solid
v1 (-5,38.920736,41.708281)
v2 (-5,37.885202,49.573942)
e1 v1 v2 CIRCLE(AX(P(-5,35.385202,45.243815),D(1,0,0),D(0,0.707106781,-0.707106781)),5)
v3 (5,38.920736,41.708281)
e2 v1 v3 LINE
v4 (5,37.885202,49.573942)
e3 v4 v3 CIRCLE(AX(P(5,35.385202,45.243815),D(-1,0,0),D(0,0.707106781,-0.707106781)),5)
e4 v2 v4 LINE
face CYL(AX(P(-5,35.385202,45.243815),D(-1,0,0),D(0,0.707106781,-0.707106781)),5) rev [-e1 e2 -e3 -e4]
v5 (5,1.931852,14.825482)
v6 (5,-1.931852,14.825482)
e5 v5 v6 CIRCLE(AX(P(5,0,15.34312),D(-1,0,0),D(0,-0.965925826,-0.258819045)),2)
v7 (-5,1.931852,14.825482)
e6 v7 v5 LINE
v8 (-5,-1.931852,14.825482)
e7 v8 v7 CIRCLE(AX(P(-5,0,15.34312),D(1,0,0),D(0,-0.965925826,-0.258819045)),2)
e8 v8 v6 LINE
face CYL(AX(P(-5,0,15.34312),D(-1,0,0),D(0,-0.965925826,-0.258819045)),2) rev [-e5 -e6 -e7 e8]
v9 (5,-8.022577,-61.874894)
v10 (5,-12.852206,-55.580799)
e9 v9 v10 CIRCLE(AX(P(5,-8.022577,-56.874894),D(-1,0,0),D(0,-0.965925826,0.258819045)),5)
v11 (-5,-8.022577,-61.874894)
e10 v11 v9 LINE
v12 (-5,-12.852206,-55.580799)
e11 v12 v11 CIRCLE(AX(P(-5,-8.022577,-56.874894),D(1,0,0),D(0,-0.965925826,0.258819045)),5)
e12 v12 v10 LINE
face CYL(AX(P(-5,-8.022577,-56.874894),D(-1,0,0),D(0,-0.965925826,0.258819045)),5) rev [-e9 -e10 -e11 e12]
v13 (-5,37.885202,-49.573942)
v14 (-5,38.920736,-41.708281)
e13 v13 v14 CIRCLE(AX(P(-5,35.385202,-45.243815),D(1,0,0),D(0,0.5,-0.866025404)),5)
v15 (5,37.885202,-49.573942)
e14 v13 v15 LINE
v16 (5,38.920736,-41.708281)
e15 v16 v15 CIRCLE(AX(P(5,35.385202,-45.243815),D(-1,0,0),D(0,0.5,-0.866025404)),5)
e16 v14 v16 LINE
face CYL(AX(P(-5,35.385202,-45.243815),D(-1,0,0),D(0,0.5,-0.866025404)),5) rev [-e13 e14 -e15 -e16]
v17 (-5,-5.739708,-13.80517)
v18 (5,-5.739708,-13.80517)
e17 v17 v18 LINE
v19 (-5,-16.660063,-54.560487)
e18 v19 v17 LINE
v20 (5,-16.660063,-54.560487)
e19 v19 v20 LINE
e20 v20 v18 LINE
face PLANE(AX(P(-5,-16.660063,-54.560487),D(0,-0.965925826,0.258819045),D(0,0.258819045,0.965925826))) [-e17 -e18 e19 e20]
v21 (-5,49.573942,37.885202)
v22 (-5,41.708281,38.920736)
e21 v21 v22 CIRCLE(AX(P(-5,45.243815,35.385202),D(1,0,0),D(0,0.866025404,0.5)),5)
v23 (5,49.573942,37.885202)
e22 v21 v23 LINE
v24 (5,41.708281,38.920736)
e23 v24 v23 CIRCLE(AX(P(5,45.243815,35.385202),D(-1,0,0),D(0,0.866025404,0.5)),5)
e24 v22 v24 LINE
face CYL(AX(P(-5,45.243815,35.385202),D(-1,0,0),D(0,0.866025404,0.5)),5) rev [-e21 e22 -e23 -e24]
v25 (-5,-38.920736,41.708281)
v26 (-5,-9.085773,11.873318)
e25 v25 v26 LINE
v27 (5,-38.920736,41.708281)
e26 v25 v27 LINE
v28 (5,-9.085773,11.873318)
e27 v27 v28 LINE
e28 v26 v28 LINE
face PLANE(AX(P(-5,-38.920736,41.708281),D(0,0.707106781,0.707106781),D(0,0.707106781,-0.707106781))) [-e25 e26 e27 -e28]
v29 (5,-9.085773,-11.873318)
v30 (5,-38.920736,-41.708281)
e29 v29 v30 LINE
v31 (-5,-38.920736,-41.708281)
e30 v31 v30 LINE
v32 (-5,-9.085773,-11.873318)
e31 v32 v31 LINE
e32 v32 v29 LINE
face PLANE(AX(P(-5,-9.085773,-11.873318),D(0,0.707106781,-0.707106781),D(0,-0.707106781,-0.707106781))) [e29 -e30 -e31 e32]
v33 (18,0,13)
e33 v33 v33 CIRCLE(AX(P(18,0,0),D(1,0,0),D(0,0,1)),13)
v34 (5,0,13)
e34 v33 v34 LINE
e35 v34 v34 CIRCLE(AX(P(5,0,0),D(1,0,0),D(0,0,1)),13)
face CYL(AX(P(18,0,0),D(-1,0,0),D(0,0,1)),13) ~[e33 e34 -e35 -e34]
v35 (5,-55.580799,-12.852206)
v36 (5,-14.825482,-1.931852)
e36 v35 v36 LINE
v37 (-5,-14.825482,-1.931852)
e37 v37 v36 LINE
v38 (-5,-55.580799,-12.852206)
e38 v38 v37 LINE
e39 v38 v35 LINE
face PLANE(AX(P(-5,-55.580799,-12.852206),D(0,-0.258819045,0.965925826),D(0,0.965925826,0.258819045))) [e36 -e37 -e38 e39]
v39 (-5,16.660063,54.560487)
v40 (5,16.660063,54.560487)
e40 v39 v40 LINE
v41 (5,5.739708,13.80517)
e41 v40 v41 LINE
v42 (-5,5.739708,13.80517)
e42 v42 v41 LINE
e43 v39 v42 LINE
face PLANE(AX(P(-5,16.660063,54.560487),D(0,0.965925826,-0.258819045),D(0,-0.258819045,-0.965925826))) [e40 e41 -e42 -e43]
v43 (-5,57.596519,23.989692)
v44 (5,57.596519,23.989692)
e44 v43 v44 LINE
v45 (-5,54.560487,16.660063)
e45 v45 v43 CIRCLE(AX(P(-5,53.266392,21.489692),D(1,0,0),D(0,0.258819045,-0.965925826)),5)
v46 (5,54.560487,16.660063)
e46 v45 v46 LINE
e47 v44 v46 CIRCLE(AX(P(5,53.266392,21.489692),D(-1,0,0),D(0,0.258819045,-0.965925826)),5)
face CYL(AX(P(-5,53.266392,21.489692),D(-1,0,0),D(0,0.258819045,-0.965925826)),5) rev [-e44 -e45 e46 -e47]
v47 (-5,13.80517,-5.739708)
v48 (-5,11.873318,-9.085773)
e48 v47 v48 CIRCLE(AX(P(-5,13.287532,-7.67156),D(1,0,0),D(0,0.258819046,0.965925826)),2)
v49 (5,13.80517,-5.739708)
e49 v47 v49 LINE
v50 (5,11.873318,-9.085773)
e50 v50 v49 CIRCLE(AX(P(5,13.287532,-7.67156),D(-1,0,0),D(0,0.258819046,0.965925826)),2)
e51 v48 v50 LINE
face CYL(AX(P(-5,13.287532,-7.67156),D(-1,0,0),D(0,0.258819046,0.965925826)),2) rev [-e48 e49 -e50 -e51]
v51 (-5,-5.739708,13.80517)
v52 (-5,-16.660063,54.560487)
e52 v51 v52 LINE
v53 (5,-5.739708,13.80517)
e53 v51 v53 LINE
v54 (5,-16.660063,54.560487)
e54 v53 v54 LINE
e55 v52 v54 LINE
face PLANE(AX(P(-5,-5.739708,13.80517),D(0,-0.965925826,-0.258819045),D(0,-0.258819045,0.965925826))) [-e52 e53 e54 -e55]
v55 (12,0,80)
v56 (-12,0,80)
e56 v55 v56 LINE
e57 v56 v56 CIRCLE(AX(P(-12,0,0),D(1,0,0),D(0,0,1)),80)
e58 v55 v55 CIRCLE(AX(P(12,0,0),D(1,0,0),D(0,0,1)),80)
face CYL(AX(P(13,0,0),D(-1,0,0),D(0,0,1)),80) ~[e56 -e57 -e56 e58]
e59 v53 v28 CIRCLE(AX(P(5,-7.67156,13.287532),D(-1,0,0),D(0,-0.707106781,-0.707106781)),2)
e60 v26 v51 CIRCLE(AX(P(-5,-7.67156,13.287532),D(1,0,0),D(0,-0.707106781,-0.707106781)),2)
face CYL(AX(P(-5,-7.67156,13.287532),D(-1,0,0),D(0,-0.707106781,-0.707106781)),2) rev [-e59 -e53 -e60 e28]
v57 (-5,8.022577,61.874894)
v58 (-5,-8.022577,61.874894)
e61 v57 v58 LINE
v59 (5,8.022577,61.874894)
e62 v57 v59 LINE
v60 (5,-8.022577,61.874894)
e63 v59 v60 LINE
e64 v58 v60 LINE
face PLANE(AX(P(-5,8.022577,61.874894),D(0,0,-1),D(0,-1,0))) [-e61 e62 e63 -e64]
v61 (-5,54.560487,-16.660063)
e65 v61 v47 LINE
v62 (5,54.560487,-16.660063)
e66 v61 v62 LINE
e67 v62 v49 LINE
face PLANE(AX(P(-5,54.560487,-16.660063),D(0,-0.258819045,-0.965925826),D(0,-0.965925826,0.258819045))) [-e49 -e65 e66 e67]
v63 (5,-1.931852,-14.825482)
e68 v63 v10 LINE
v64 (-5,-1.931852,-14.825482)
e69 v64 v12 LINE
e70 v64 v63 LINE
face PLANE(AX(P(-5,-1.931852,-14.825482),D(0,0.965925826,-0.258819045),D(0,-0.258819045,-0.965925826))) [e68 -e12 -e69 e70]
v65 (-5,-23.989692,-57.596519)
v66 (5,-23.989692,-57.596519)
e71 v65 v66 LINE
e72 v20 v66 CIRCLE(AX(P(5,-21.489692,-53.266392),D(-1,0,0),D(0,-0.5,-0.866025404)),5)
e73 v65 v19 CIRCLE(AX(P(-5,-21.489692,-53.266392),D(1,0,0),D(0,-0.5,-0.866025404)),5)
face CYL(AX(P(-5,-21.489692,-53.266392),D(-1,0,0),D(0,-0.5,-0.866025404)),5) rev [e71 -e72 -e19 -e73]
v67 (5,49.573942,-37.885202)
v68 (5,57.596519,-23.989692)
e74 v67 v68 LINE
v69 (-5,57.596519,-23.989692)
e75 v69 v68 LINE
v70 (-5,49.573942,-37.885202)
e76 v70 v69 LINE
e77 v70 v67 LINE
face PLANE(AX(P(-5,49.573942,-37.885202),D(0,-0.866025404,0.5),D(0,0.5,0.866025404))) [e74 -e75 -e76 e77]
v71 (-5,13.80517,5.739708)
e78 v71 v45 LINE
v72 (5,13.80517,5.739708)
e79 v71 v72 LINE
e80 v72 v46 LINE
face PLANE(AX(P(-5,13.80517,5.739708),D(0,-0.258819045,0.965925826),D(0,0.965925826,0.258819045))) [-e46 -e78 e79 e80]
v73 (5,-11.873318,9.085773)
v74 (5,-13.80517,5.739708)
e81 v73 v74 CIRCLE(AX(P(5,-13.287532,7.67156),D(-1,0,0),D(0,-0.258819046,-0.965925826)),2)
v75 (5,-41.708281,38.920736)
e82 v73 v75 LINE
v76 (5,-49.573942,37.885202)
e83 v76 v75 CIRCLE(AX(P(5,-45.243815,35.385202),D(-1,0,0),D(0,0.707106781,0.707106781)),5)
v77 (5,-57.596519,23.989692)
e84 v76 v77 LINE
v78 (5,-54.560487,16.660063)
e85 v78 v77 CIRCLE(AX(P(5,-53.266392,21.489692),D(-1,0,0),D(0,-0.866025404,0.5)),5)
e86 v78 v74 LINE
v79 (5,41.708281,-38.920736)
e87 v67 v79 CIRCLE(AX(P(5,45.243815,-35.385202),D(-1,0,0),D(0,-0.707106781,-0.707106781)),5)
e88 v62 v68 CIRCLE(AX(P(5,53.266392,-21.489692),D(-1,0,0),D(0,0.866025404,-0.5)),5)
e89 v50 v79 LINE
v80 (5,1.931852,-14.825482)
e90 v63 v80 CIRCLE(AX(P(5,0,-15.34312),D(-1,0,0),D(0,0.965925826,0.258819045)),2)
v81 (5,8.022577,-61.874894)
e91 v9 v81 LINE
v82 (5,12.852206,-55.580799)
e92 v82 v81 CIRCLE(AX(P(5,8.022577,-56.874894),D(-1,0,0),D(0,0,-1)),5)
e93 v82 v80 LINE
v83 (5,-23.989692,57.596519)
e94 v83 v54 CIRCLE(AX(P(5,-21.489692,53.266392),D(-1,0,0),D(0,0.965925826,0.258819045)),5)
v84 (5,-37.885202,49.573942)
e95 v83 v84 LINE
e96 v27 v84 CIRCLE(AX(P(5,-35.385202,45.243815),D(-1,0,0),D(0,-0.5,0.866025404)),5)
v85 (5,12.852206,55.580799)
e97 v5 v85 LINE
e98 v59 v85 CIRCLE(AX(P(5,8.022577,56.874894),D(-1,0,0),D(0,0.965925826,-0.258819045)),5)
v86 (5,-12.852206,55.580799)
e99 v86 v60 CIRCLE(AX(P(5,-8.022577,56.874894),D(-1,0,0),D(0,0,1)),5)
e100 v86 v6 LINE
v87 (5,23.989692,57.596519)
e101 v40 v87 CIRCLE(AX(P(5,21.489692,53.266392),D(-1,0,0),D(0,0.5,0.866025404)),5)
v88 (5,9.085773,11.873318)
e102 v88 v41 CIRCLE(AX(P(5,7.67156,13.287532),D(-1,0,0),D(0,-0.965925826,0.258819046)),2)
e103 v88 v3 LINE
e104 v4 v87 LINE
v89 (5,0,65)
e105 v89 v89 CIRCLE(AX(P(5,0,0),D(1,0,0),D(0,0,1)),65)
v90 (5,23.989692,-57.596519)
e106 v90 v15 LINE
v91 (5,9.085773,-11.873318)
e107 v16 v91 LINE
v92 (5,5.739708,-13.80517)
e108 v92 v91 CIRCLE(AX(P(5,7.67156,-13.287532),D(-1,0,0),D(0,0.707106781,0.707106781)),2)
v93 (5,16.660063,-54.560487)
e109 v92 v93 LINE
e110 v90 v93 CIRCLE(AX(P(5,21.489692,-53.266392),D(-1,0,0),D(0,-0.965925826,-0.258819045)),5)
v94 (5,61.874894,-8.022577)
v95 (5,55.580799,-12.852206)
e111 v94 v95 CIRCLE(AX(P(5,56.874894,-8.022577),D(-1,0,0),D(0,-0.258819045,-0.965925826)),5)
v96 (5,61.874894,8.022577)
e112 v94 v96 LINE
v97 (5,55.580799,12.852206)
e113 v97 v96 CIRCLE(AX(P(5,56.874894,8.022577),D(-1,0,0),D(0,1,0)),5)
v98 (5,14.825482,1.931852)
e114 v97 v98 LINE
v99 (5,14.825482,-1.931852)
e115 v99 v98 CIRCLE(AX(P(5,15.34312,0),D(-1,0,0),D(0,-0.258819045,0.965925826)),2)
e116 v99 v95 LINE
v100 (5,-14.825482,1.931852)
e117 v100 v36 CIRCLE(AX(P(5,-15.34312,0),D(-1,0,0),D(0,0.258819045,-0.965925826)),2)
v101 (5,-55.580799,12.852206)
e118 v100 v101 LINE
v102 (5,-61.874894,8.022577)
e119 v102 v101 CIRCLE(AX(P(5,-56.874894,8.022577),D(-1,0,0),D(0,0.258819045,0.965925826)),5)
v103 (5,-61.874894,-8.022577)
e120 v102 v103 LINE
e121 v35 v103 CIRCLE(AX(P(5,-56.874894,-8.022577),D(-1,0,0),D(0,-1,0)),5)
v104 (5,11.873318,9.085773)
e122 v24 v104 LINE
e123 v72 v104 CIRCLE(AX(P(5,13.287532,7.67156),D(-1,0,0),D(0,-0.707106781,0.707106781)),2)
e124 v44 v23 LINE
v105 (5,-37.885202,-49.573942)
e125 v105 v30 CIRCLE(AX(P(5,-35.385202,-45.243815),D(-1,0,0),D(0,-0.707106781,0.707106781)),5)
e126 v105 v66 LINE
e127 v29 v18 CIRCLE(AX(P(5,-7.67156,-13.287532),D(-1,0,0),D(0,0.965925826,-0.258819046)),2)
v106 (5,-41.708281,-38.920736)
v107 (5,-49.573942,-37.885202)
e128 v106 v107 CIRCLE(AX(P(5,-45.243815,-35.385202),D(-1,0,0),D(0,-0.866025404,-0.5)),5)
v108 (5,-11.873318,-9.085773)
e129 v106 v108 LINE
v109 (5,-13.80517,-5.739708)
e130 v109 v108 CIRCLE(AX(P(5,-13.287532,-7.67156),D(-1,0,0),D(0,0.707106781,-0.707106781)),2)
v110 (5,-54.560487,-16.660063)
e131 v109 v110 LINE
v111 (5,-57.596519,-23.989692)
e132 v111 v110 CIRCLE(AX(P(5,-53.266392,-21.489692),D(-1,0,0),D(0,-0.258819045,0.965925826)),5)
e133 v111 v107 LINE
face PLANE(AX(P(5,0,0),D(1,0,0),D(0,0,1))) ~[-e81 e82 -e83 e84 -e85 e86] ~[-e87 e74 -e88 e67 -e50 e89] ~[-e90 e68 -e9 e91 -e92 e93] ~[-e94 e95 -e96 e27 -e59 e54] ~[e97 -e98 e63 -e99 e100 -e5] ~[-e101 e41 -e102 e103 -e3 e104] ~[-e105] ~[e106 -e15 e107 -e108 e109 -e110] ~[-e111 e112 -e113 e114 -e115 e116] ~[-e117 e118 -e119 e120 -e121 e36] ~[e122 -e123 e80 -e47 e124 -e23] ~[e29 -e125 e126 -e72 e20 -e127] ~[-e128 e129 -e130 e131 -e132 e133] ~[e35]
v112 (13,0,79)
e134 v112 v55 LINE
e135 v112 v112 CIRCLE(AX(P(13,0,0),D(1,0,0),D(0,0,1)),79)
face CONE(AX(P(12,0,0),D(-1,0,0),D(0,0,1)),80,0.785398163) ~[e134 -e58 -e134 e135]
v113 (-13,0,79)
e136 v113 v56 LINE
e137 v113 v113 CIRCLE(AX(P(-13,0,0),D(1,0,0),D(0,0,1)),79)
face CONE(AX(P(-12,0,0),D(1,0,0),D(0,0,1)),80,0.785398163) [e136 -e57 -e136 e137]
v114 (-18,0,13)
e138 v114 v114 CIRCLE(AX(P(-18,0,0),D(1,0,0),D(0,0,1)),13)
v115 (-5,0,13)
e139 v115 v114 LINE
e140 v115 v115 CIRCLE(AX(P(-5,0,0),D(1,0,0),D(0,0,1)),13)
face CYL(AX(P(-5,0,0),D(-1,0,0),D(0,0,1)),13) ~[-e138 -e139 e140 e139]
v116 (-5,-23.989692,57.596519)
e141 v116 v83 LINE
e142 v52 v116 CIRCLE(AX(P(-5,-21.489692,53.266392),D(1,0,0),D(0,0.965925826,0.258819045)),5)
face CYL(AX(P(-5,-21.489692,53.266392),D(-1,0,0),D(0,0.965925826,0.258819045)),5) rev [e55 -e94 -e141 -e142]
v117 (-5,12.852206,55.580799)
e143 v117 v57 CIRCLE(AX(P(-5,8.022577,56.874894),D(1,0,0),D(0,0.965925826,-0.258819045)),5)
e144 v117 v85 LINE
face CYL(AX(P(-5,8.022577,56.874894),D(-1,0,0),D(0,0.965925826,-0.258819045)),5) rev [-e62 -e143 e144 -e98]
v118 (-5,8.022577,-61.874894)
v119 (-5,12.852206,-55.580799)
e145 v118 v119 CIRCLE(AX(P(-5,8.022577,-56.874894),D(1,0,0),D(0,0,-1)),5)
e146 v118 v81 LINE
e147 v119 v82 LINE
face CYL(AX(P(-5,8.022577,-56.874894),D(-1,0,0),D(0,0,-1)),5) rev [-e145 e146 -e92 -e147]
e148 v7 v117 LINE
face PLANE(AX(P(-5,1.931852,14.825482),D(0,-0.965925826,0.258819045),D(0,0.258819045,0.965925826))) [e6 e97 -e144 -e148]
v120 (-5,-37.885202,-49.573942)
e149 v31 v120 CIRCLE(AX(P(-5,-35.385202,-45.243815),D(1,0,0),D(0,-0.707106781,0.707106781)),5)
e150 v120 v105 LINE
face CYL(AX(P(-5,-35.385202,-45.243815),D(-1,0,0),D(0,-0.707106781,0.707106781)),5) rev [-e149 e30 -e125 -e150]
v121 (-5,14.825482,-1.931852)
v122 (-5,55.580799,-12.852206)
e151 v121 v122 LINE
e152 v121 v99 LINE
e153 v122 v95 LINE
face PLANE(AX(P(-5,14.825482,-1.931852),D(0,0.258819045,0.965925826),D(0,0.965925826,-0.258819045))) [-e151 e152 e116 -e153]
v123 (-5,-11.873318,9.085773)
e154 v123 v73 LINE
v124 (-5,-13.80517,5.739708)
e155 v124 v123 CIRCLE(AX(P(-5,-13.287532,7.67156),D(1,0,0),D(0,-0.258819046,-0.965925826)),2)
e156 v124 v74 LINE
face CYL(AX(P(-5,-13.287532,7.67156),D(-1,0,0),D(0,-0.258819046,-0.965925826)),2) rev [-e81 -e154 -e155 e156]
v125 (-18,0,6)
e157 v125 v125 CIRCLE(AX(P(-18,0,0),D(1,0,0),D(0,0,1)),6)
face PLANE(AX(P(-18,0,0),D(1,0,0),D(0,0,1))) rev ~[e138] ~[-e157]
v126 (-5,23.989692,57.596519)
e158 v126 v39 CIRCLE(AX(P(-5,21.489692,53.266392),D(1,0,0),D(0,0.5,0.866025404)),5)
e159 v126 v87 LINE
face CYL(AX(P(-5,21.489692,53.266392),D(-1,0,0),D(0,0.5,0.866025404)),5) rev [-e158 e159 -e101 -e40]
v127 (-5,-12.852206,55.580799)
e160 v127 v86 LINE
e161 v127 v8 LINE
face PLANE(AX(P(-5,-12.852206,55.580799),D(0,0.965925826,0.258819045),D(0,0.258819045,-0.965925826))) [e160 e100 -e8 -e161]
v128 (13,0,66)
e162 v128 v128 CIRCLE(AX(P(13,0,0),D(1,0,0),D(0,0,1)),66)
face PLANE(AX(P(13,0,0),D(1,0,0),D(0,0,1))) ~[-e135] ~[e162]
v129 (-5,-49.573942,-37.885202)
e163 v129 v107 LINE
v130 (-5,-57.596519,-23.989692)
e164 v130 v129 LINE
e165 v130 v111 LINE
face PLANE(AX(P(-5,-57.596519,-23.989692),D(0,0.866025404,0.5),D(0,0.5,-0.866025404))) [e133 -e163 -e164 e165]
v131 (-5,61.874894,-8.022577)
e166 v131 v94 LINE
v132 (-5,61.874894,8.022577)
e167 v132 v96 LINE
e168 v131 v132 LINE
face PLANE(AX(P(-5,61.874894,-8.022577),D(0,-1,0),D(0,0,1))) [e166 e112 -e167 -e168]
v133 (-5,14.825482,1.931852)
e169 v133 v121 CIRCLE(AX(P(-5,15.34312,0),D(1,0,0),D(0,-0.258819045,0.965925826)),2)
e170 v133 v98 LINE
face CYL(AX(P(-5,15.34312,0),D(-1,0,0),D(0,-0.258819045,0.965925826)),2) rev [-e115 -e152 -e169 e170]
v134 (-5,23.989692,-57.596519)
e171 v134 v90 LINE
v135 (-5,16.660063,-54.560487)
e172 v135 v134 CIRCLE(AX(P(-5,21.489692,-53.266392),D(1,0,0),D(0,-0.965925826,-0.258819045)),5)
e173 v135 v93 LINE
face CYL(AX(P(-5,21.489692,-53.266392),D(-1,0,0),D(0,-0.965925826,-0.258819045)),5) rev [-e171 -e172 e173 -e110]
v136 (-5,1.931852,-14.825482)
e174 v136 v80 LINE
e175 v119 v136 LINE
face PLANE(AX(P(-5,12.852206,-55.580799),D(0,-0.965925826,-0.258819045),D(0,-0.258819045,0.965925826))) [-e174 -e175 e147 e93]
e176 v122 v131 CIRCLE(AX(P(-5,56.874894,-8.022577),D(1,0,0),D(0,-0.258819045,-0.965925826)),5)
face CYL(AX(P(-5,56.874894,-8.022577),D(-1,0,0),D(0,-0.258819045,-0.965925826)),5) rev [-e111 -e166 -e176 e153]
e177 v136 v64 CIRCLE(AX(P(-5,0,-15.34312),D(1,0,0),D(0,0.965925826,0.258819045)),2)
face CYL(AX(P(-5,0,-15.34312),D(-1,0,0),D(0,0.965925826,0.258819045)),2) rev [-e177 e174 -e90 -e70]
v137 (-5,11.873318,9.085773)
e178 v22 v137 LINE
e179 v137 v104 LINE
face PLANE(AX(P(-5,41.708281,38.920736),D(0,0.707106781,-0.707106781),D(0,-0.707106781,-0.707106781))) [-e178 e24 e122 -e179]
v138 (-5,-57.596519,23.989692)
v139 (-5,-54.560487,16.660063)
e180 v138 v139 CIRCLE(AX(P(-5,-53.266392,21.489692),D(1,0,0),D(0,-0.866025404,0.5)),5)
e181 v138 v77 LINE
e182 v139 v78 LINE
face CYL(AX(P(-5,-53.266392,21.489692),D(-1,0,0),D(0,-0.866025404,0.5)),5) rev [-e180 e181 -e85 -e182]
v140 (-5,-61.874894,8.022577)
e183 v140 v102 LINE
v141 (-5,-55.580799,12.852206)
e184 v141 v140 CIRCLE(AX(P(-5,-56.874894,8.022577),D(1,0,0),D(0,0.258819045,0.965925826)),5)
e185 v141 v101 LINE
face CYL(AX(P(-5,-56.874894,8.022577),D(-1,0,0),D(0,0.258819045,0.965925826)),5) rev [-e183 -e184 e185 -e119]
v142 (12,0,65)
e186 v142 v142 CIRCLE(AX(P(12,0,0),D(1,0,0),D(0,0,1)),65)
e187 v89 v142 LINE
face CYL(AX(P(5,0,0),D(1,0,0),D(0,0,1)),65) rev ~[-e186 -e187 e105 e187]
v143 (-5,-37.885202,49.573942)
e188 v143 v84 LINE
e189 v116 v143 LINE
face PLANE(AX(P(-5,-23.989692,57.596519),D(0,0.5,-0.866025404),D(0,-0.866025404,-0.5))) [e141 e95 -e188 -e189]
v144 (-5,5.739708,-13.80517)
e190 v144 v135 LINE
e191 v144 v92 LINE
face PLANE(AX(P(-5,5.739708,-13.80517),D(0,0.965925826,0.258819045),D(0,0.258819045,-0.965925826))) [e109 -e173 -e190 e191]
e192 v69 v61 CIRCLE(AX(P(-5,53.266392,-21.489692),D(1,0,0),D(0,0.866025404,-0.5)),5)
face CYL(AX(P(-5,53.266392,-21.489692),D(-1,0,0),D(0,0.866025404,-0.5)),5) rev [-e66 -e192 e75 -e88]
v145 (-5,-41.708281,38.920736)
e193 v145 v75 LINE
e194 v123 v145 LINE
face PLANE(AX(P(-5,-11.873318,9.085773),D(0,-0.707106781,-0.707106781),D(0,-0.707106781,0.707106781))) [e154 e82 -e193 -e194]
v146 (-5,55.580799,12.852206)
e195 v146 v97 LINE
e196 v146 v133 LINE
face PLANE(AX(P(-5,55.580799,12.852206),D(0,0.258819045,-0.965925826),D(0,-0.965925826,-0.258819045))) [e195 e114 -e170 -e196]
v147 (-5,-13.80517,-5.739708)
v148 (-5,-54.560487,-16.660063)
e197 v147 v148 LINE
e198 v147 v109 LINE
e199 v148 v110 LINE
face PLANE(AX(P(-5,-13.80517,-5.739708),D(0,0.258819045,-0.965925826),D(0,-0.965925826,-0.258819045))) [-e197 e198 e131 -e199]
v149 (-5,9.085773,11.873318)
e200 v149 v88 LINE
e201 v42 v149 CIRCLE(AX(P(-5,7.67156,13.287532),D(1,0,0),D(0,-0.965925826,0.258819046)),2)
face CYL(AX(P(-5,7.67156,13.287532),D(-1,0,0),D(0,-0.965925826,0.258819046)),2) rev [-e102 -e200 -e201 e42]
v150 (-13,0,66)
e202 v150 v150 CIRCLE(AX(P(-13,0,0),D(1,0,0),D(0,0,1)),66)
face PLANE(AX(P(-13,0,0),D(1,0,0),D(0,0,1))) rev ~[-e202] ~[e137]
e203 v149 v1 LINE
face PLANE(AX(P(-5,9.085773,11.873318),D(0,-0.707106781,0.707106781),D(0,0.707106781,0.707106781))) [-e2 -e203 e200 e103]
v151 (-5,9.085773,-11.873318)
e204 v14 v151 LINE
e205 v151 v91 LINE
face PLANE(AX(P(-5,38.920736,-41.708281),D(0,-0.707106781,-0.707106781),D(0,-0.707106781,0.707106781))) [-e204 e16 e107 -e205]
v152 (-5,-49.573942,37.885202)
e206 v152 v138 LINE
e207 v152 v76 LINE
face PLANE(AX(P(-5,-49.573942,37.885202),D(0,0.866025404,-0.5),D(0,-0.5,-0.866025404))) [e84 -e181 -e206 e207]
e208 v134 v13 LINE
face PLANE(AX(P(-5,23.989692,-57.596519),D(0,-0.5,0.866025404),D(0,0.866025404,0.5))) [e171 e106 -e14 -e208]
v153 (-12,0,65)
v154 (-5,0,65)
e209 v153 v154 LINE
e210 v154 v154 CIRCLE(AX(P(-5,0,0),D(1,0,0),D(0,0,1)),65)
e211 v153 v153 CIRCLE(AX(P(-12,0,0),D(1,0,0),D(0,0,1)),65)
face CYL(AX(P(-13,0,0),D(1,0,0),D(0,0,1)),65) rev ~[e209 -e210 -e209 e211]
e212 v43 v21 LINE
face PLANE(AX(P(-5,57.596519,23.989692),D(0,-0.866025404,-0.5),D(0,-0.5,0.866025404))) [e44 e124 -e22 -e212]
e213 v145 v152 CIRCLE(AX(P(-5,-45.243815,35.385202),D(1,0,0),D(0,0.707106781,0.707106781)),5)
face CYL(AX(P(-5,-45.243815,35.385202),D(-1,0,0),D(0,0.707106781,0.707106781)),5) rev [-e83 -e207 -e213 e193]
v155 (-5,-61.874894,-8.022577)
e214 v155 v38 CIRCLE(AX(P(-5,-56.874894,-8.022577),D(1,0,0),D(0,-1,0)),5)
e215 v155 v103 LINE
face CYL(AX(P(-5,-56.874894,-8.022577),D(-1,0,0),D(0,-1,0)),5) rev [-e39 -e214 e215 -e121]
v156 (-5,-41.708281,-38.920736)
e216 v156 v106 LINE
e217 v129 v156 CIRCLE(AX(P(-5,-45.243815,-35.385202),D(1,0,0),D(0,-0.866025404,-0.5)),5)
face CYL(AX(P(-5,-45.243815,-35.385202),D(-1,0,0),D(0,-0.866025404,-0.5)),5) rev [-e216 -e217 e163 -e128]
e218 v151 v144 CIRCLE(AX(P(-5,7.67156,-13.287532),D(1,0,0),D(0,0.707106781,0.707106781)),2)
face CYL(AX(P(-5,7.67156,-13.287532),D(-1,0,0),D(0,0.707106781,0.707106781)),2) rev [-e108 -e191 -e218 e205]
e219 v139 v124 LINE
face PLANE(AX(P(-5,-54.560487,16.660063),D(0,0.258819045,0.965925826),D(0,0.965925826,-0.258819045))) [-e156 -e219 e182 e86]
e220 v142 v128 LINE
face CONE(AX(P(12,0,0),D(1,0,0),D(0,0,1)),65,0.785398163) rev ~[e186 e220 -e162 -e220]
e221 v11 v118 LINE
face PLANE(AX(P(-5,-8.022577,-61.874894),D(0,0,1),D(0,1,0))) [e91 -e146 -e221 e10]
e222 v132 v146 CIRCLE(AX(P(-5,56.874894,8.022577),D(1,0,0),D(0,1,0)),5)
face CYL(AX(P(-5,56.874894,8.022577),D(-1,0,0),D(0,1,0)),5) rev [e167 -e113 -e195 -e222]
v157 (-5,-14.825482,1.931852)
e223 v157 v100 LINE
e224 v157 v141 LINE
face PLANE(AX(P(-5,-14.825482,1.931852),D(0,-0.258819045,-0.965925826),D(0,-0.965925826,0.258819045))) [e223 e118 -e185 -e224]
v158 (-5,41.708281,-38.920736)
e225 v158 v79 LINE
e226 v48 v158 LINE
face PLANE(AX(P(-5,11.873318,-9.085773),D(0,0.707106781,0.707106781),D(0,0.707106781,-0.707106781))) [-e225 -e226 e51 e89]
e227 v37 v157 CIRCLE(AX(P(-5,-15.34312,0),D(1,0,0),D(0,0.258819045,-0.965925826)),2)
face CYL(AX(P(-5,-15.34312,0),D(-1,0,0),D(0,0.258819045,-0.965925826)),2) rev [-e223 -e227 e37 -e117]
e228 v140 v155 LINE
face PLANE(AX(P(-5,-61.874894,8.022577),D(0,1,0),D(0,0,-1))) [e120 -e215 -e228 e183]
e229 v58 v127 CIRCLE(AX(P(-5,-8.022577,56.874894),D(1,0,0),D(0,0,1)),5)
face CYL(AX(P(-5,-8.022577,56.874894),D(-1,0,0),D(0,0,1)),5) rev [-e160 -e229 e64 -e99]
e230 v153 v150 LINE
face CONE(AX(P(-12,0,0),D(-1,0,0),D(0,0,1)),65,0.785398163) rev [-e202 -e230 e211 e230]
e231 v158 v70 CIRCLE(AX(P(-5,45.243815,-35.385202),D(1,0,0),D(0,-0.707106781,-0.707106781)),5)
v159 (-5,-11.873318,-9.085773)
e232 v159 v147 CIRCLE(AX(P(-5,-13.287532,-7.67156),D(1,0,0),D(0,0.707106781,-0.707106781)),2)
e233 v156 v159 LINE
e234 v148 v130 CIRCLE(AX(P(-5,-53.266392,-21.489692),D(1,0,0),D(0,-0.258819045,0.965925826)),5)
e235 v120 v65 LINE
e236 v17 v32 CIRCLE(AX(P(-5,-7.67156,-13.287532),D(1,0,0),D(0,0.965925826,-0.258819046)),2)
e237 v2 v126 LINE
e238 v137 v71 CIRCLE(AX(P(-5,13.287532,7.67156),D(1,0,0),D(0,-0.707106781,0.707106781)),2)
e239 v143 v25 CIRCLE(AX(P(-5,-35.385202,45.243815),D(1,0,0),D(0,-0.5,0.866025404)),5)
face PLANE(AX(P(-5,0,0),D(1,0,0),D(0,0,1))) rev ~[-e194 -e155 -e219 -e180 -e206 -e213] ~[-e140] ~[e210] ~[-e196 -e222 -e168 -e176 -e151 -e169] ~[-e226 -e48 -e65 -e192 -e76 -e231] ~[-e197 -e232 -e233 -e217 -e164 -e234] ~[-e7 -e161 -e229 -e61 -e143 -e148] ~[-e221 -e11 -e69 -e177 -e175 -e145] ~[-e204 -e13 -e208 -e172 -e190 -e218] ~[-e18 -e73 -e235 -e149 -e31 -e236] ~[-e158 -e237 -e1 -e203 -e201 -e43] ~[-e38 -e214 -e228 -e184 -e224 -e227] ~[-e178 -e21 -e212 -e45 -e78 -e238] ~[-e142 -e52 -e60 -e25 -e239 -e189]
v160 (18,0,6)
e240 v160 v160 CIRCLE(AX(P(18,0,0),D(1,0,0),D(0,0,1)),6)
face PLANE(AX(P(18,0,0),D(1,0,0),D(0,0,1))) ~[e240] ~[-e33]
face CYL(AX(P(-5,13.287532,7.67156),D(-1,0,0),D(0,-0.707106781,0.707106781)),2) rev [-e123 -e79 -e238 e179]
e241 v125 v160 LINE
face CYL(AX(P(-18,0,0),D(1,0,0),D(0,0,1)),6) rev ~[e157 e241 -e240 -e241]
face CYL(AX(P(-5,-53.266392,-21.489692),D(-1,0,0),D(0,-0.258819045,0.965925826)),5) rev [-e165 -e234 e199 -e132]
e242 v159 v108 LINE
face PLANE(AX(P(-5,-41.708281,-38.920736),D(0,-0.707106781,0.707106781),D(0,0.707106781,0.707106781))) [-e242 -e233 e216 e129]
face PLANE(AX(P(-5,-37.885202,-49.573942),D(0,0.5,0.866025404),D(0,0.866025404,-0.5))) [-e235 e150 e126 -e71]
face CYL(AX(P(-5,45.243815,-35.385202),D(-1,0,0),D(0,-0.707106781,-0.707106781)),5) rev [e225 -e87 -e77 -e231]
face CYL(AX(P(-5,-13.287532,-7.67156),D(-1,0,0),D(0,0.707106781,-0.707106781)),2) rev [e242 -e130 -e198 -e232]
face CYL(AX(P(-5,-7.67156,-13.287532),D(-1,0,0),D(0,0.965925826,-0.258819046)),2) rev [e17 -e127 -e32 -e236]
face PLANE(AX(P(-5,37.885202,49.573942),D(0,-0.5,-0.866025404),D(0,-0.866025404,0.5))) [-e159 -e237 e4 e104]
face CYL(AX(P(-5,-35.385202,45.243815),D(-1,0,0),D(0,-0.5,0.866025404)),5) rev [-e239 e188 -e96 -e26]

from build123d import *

# Parameters (mm, degrees)
CUT_EXTRUDE1_DEPTH = 20
CHAMFER1_SIZE      = 1


with BuildPart() as part:
    # Sketch1 → Revolve1 (revolve)
    with BuildSketch(Plane.XY, mode=Mode.PRIVATE) as revolve1_sk:
        Polygon((-18, 6), (18, 6), (18, 13), (5, 13), (5, 65), (13, 65), (13, 80), (-13, 80), (-13, 65), (-5, 65), (-5, 13), (-18, 13), align=None)
    revolve(revolve1_sk.sketch.rotate(Axis((0, 0, 0), (1, 0, 0)), 90), axis=Axis((0, 0, 0), (1, 0, 0)))

    # Sketch2 → Cut-Extrude1 (cut)
    with BuildSketch(Plane.ZY.offset(5)):
        with BuildLine():
            Line((-8.022576871, 61.874894191), (8.022576871, 61.874894191))
            ThreePointArc((8.022576871, 61.874894191), (11.989343573, 59.918701336), (12.852206003, 55.580798966))
            Line((12.852206003, 55.580798966), (1.931851653, 14.825481694))
            ThreePointArc((1.931851653, 14.825481694), (0, 13.343119784), (-1.931851653, 14.825481694))
            Line((-1.931851653, 14.825481694), (-12.852206003, 55.580798966))
            ThreePointArc((-12.852206003, 55.580798966), (-11.989343573, 59.918701336), (-8.022576871, 61.874894191))
        make_face()
        with BuildLine():
            Line((23.989691721, 57.596518662), (37.88520247, 49.57394179))
            ThreePointArc((37.88520247, 49.57394179), (40.342426777, 45.896445733), (38.920736376, 41.708280866))
            Line((38.920736376, 41.708280866), (9.085773454, 11.873317944))
            ThreePointArc((9.085773454, 11.873317944), (6.671559892, 11.555480699), (5.73970824, 13.805169597))
            Line((5.73970824, 13.805169597), (16.66006259, 54.560486868))
            ThreePointArc((16.66006259, 54.560486868), (19.576274559, 57.885789305), (23.989691721, 57.596518662))
        make_face()
        with BuildLine():
            Line((49.57394179, 37.88520247), (57.596518662, 23.989691721))
            ThreePointArc((57.596518662, 23.989691721), (57.885789305, 19.576274559), (54.560486868, 16.66006259))
            Line((54.560486868, 16.66006259), (13.805169597, 5.73970824))
            ThreePointArc((13.805169597, 5.73970824), (11.555480699, 6.671559892), (11.873317944, 9.085773454))
            Line((11.873317944, 9.085773454), (41.708280866, 38.920736376))
            ThreePointArc((41.708280866, 38.920736376), (45.896445733, 40.342426777), (49.57394179, 37.88520247))
        make_face()
        with BuildLine():
            Line((61.874894191, 8.022576871), (61.874894191, -8.022576871))
            ThreePointArc((61.874894191, -8.022576871), (59.918701336, -11.989343573), (55.580798966, -12.852206003))
            Line((55.580798966, -12.852206003), (14.825481694, -1.931851653))
            ThreePointArc((14.825481694, -1.931851653), (13.343119784, 0), (14.825481694, 1.931851653))
            Line((14.825481694, 1.931851653), (55.580798966, 12.852206003))
            ThreePointArc((55.580798966, 12.852206003), (59.918701336, 11.989343573), (61.874894191, 8.022576871))
        make_face()
        with BuildLine():
            Line((57.596518662, -23.989691721), (49.57394179, -37.88520247))
            ThreePointArc((49.57394179, -37.88520247), (45.896445733, -40.342426777), (41.708280866, -38.920736376))
            Line((41.708280866, -38.920736376), (11.873317944, -9.085773454))
            ThreePointArc((11.873317944, -9.085773454), (11.555480699, -6.671559892), (13.805169597, -5.73970824))
            Line((13.805169597, -5.73970824), (54.560486868, -16.66006259))
            ThreePointArc((54.560486868, -16.66006259), (57.885789305, -19.576274559), (57.596518662, -23.989691721))
        make_face()
        with BuildLine():
            Line((37.88520247, -49.57394179), (23.989691721, -57.596518662))
            ThreePointArc((23.989691721, -57.596518662), (19.576274559, -57.885789305), (16.66006259, -54.560486868))
            Line((16.66006259, -54.560486868), (5.73970824, -13.805169597))
            ThreePointArc((5.73970824, -13.805169597), (6.671559892, -11.555480699), (9.085773454, -11.873317944))
            Line((9.085773454, -11.873317944), (38.920736376, -41.708280866))
            ThreePointArc((38.920736376, -41.708280866), (40.342426777, -45.896445733), (37.88520247, -49.57394179))
        make_face()
        with BuildLine():
            Line((8.022576871, -61.874894191), (-8.022576871, -61.874894191))
            ThreePointArc((-8.022576871, -61.874894191), (-11.989343573, -59.918701336), (-12.852206003, -55.580798966))
            Line((-12.852206003, -55.580798966), (-1.931851653, -14.825481694))
            ThreePointArc((-1.931851653, -14.825481694), (0, -13.343119784), (1.931851653, -14.825481694))
            Line((1.931851653, -14.825481694), (12.852206003, -55.580798966))
            ThreePointArc((12.852206003, -55.580798966), (11.989343573, -59.918701336), (8.022576871, -61.874894191))
        make_face()
        with BuildLine():
            Line((-23.989691721, -57.596518662), (-37.88520247, -49.57394179))
            ThreePointArc((-37.88520247, -49.57394179), (-40.342426777, -45.896445733), (-38.920736376, -41.708280866))
            Line((-38.920736376, -41.708280866), (-9.085773454, -11.873317944))
            ThreePointArc((-9.085773454, -11.873317944), (-6.671559892, -11.555480699), (-5.73970824, -13.805169597))
            Line((-5.73970824, -13.805169597), (-16.66006259, -54.560486868))
            ThreePointArc((-16.66006259, -54.560486868), (-19.576274559, -57.885789305), (-23.989691721, -57.596518662))
        make_face()
        with BuildLine():
            Line((-49.57394179, -37.88520247), (-57.596518662, -23.989691721))
            ThreePointArc((-57.596518662, -23.989691721), (-57.885789305, -19.576274559), (-54.560486868, -16.66006259))
            Line((-54.560486868, -16.66006259), (-13.805169597, -5.73970824))
            ThreePointArc((-13.805169597, -5.73970824), (-11.555480699, -6.671559892), (-11.873317944, -9.085773454))
            Line((-11.873317944, -9.085773454), (-41.708280866, -38.920736376))
            ThreePointArc((-41.708280866, -38.920736376), (-45.896445733, -40.342426777), (-49.57394179, -37.88520247))
        make_face()
        with BuildLine():
            Line((-61.874894191, -8.022576871), (-61.874894191, 8.022576871))
            ThreePointArc((-61.874894191, 8.022576871), (-59.918701336, 11.989343573), (-55.580798966, 12.852206003))
            Line((-55.580798966, 12.852206003), (-14.825481694, 1.931851653))
            ThreePointArc((-14.825481694, 1.931851653), (-13.343119784, 0), (-14.825481694, -1.931851653))
            Line((-14.825481694, -1.931851653), (-55.580798966, -12.852206003))
            ThreePointArc((-55.580798966, -12.852206003), (-59.918701336, -11.989343573), (-61.874894191, -8.022576871))
        make_face()
        with BuildLine():
            Line((-57.596518662, 23.989691721), (-49.57394179, 37.88520247))
            ThreePointArc((-49.57394179, 37.88520247), (-45.896445733, 40.342426777), (-41.708280866, 38.920736376))
            Line((-41.708280866, 38.920736376), (-11.873317944, 9.085773454))
            ThreePointArc((-11.873317944, 9.085773454), (-11.555480699, 6.671559892), (-13.805169597, 5.73970824))
            Line((-13.805169597, 5.73970824), (-54.560486868, 16.66006259))
            ThreePointArc((-54.560486868, 16.66006259), (-57.885789305, 19.576274559), (-57.596518662, 23.989691721))
        make_face()
        with BuildLine():
            Line((-37.88520247, 49.57394179), (-23.989691721, 57.596518662))
            ThreePointArc((-23.989691721, 57.596518662), (-19.576274559, 57.885789305), (-16.66006259, 54.560486868))
            Line((-16.66006259, 54.560486868), (-5.73970824, 13.805169597))
            ThreePointArc((-5.73970824, 13.805169597), (-6.671559892, 11.555480699), (-9.085773454, 11.873317944))
            Line((-9.085773454, 11.873317944), (-38.920736376, 41.708280866))
            ThreePointArc((-38.920736376, 41.708280866), (-40.342426777, 45.896445733), (-37.88520247, 49.57394179))
        make_face()
    extrude(amount=-CUT_EXTRUDE1_DEPTH, mode=Mode.SUBTRACT)

    # Chamfer1
    chamfer1_edges = [part.edges().sort_by_distance(p)[0] for p in [
        (-13, 0, -65),
        (-13, 0, -80),
        (13, 0, -80),
        (13, 0, -65),
    ]]
    chamfer(chamfer1_edges, length=CHAMFER1_SIZE)


solid = part.part
